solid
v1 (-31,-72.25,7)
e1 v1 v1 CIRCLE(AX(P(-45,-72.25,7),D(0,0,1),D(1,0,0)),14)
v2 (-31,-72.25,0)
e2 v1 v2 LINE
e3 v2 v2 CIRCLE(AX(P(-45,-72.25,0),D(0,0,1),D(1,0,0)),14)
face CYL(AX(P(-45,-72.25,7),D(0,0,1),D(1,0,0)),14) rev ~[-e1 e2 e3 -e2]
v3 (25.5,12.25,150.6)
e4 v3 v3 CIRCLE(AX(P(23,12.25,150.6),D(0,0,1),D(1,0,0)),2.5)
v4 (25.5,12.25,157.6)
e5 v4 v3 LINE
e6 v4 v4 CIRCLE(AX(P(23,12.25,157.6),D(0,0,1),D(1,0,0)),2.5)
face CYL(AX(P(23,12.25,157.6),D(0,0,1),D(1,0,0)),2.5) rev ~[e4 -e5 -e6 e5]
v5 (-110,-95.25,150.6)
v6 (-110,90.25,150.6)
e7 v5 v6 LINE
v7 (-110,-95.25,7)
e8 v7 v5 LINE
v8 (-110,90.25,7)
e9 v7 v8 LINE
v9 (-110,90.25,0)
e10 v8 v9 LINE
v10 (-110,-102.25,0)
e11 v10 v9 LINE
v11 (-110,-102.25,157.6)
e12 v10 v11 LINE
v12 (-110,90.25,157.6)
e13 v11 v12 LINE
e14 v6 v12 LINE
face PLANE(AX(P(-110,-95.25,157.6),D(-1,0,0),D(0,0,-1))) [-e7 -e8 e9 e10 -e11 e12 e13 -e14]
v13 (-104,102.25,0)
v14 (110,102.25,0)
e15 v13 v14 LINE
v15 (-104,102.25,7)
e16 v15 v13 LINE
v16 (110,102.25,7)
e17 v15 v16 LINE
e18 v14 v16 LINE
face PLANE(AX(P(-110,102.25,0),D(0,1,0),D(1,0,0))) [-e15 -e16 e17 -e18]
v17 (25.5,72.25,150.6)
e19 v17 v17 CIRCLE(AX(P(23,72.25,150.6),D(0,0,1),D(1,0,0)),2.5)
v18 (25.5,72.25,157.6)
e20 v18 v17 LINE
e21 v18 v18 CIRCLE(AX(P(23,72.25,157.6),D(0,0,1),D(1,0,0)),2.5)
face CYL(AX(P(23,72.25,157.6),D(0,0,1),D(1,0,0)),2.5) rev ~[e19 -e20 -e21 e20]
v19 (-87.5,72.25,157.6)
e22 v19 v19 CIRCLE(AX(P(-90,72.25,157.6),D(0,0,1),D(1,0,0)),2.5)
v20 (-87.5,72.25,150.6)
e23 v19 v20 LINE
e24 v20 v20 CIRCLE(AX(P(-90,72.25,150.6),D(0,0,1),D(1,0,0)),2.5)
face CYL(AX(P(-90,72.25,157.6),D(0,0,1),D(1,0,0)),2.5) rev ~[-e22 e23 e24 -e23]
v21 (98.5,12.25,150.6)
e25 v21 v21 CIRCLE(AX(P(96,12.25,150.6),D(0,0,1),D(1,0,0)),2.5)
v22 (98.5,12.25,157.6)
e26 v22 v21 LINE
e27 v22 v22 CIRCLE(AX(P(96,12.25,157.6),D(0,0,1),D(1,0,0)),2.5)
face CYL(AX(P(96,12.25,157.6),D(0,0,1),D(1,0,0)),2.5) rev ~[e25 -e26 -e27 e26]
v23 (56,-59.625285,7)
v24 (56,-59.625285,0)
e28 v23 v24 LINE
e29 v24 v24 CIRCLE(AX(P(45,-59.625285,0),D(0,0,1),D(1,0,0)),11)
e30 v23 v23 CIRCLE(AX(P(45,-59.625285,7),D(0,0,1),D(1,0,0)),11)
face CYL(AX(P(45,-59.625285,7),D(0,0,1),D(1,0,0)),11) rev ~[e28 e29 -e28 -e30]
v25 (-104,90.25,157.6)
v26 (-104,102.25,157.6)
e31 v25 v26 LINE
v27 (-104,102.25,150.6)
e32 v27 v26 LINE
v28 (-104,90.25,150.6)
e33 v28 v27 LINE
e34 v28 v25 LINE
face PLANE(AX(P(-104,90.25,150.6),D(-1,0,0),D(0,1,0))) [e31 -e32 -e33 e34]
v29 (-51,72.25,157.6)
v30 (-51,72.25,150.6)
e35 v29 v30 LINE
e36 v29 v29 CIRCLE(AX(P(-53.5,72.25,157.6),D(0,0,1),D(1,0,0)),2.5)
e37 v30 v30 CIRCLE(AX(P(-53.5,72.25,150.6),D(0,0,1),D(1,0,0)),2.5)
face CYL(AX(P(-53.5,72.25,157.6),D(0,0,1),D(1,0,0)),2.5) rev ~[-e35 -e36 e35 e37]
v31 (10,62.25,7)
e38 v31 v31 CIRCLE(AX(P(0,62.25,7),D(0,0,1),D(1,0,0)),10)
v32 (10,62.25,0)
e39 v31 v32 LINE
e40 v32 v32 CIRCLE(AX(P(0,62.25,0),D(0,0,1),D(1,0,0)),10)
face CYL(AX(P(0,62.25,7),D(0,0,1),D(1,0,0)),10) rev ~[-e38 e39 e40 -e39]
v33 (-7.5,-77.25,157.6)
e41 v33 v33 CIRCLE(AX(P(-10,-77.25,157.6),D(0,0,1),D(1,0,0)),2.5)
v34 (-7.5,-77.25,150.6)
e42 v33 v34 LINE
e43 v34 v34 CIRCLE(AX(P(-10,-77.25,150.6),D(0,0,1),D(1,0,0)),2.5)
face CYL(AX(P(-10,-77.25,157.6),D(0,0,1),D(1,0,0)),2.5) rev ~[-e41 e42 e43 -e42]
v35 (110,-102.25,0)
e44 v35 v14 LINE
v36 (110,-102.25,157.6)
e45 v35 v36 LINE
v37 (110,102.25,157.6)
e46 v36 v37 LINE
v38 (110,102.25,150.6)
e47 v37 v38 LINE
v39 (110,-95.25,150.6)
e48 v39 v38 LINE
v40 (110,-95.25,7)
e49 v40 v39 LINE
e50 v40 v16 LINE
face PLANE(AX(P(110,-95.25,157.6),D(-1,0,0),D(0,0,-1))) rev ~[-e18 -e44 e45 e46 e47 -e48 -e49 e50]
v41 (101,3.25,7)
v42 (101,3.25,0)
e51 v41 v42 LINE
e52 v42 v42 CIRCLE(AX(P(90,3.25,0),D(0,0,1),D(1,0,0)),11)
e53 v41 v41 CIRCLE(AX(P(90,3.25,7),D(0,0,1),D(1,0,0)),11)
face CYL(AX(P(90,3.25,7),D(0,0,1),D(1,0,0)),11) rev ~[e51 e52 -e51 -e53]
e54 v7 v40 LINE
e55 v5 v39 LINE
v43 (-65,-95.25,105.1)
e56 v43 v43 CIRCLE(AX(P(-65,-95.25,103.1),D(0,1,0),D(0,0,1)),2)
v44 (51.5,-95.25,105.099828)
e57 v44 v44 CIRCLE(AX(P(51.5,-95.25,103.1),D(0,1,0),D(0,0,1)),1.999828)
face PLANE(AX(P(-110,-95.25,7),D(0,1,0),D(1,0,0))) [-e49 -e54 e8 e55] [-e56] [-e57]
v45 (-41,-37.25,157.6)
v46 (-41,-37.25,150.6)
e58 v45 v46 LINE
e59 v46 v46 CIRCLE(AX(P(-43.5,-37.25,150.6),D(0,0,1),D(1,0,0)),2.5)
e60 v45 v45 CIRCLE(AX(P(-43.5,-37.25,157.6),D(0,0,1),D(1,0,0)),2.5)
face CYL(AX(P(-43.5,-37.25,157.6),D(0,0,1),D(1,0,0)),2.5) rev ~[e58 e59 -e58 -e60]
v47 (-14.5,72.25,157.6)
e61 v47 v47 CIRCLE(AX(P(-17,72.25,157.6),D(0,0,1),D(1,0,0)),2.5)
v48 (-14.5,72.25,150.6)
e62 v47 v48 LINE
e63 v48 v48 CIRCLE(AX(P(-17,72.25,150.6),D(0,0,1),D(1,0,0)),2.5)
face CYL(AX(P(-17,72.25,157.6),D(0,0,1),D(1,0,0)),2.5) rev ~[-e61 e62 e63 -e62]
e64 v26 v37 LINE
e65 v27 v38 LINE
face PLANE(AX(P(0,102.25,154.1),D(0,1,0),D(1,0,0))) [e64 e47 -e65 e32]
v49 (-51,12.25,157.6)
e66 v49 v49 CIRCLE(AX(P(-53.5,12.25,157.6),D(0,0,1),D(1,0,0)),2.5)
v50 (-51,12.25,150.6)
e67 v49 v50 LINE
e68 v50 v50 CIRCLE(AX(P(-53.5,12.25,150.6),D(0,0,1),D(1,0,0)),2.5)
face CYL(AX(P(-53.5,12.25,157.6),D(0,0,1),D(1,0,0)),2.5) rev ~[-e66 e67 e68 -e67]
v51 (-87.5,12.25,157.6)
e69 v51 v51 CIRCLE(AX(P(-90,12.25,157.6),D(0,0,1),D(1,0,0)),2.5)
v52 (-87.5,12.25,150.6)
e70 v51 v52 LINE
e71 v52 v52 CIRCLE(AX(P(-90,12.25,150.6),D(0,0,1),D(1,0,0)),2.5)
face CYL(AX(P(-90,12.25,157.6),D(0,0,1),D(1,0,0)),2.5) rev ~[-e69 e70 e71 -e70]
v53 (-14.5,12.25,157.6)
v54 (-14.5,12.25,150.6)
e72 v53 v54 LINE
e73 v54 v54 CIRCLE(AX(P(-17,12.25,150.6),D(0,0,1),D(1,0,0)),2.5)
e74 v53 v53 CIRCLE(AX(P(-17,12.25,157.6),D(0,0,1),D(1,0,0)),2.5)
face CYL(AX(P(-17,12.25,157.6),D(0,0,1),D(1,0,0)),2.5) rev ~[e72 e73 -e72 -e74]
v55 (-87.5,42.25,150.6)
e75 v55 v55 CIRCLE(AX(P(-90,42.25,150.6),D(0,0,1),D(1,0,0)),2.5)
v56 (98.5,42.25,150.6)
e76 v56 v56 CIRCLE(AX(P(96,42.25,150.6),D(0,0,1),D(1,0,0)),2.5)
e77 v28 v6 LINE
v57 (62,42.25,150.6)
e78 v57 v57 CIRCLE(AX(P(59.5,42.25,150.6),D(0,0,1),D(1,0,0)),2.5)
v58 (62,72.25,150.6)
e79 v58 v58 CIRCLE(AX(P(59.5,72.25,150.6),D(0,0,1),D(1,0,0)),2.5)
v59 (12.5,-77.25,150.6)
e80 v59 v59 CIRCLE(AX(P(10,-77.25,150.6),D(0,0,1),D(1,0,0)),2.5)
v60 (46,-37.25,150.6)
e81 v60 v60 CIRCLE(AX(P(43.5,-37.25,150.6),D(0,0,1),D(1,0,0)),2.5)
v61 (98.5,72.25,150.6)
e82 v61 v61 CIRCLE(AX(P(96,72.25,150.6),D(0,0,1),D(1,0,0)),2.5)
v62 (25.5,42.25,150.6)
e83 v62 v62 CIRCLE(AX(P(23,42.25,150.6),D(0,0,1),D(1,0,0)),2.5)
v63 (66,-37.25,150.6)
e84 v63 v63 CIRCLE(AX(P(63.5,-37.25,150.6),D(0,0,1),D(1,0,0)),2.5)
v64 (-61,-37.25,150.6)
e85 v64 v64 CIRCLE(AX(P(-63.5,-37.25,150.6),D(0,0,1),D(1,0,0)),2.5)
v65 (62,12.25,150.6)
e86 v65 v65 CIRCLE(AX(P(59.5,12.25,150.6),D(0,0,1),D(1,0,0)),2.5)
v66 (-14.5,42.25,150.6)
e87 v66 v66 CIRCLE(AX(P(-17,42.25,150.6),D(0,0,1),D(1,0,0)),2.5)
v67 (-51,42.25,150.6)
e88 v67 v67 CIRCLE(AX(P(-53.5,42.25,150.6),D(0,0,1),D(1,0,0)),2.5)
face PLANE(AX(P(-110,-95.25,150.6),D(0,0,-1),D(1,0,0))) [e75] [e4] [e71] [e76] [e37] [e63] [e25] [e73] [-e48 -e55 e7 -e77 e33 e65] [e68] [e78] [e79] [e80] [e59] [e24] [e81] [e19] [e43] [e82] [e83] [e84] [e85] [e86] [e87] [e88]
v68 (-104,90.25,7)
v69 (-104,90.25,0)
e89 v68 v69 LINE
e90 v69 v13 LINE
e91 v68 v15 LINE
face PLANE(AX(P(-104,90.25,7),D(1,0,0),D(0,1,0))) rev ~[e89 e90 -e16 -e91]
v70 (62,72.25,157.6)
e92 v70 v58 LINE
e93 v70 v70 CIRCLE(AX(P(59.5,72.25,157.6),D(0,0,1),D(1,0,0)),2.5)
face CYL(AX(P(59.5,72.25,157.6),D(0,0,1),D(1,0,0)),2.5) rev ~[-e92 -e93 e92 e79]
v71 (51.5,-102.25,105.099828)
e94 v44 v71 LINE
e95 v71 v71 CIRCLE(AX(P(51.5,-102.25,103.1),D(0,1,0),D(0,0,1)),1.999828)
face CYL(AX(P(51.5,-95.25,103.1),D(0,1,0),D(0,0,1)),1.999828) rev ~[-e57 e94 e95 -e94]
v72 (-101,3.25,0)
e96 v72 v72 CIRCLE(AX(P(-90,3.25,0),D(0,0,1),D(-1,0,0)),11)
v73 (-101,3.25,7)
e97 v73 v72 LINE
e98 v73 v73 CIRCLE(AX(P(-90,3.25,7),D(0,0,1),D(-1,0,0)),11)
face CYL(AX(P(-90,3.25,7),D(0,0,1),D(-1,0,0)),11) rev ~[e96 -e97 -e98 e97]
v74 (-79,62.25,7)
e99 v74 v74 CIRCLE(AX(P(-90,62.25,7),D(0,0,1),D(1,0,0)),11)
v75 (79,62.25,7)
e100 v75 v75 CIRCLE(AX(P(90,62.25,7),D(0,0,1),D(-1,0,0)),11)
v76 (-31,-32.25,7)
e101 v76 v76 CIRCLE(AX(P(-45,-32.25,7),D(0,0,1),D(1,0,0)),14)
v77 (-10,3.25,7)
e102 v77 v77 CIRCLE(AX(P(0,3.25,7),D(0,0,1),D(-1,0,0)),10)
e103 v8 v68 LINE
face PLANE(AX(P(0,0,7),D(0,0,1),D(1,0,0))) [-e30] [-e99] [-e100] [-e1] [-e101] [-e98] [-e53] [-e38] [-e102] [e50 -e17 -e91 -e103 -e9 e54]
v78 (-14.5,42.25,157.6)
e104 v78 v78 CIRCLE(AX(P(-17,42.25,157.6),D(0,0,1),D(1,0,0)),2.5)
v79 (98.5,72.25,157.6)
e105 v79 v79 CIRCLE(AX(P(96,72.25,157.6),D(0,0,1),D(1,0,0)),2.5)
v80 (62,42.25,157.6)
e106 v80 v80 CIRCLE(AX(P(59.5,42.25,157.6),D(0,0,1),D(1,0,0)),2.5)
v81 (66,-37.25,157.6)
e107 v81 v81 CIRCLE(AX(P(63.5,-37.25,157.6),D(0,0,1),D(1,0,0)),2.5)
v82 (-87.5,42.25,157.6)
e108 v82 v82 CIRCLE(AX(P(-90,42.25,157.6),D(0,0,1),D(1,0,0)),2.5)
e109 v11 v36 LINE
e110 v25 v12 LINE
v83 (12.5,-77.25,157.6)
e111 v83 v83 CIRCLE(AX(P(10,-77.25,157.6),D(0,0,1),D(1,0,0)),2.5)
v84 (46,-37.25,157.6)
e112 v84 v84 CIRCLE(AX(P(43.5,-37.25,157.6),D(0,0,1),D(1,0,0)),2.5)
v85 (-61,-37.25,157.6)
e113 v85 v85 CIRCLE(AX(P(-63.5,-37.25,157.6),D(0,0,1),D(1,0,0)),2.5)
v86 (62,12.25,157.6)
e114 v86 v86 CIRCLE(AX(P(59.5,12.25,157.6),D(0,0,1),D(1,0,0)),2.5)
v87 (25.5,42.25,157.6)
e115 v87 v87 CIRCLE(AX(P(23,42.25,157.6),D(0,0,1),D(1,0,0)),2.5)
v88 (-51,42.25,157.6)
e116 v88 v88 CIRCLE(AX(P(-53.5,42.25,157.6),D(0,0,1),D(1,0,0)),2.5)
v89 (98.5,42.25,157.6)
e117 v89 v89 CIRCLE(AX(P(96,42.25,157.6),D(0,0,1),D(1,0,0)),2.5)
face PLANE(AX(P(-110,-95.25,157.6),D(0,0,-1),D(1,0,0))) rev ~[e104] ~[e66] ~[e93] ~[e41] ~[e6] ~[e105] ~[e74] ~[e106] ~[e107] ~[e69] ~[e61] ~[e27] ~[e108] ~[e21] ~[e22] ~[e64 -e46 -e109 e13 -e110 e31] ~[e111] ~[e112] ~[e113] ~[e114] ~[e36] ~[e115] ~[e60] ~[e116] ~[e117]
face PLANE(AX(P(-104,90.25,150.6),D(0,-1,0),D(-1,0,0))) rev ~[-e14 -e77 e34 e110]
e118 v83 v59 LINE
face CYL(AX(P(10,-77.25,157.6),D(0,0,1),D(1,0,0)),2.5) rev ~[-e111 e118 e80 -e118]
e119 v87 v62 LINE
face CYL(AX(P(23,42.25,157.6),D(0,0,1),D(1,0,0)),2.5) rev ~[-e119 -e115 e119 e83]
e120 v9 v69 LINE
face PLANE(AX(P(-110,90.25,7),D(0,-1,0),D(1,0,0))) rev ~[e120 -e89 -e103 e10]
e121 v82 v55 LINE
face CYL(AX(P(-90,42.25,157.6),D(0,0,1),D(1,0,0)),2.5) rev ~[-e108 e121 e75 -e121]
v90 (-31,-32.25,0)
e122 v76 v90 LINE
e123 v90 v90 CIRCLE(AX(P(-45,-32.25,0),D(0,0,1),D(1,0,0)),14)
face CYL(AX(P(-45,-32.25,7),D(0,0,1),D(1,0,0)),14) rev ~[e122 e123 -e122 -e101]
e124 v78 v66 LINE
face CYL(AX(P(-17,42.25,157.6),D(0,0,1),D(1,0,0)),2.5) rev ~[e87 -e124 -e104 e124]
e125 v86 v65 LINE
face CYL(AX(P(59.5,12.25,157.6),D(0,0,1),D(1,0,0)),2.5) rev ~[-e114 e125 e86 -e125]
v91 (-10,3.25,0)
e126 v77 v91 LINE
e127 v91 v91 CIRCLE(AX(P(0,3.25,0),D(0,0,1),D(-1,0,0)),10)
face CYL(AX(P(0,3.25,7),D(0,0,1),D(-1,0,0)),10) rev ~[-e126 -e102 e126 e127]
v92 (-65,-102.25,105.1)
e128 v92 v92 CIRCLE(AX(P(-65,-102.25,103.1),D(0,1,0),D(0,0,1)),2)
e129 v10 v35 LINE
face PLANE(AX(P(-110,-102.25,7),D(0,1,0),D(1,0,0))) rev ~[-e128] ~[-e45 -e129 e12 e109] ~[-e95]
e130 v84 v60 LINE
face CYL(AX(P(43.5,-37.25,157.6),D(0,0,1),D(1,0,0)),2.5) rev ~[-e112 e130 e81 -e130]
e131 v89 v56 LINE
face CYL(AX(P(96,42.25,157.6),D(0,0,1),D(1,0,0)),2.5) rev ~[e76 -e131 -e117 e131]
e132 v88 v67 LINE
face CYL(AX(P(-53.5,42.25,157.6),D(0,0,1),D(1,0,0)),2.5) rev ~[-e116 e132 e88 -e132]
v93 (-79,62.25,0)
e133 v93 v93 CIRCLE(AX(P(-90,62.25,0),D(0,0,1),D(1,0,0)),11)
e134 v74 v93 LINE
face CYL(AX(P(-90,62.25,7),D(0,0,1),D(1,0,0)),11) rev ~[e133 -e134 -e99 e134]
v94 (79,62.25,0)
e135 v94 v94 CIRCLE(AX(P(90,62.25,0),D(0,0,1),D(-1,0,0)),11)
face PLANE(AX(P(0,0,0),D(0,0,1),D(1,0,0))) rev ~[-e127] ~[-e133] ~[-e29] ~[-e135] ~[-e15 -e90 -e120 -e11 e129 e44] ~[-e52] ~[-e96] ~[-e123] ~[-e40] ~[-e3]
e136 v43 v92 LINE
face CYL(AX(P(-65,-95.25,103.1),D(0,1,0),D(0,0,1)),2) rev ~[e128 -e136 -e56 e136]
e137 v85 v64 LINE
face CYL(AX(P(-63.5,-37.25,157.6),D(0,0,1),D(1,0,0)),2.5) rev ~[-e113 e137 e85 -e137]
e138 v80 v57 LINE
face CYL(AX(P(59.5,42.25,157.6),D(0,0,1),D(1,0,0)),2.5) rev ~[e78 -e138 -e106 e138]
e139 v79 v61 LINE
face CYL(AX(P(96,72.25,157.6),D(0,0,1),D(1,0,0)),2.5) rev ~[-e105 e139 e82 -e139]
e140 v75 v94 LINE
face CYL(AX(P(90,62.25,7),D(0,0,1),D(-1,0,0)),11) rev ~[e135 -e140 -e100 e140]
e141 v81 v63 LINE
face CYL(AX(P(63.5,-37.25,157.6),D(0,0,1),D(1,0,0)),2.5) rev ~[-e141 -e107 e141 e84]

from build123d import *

# Parameters (mm, degrees)
CROQUIS1_W              = 220
CROQUIS1_H              = 204.5
SALIENTE_EXTRUIR1_DEPTH = 7
CROQUIS2_R              = 11
CROQUIS2_R_2            = 10
CROQUIS2_R_3            = 14
CORTAR_EXTRUIR1_DEPTH   = 151.346474851
CROQUIS3_W              = 6
CROQUIS3_H              = 12
CORTAR_EXTRUIR2_DEPTH   = 10
CROQUIS4_W              = 220
CROQUIS4_H              = 7
SALIENTE_EXTRUIR2_DEPTH = 150.6
CROQUIS5_W              = 220
CROQUIS5_H              = 7
SALIENTE_EXTRUIR3_DEPTH = 197.5
CROQUIS6_W              = 6
CROQUIS6_H              = 12
CORTAR_EXTRUIR3_DEPTH   = 150.6
CROQUIS7_R              = 2.5
CORTAR_EXTRUIR4_DEPTH   = 10
CROQUIS8_W              = 20
CROQUIS8_H              = 15
SALIENTE_EXTRUIR4_DEPTH = 197.5
CROQUIS9_W              = 110.5
CROQUIS9_H              = 4
CORTAR_EXTRUIR5_DEPTH   = 94
CROQUIS11_R             = 2.5
CORTAR_EXTRUIR6_DEPTH   = 10
CORTAR_EXTRUIR7_REACH   = 188.514
CROQUIS10_W             = 13.75
CROQUIS10_H             = 75
CORTAR_EXTRUIR8_REACH   = 282.639
CROQUIS12_W             = 10.25034787
CROQUIS12_H             = 5.500172095
CROQUIS12_W_2           = 10.24965213
CROQUIS13_W             = 3
CROQUIS13_H             = 5.499827905
CORTAR_EXTRUIR9_DEPTH   = 7
CORTAR_EXTRUIR10_DEPTH  = 15
SALIENTE_EXTRUIR5_DEPTH = 15
CROQUIS19_R             = 2
CROQUIS19_R_2           = 1.999827905
CORTAR_EXTRUIR13_DEPTH  = 276.579407794
CROQUIS20_W             = 150
CROQUIS20_H             = 15
CORTAR_EXTRUIR14_DEPTH  = 197.5


with BuildPart() as part:
    # Croquis1 → Saliente-Extruir1 (new body)
    with BuildSketch(Plane.XY):
        Rectangle(CROQUIS1_W, CROQUIS1_H)
    extrude(amount=SALIENTE_EXTRUIR1_DEPTH)

    # Croquis2 → Cortar-Extruir1 (cut, through all)
    with BuildSketch(Plane.XY.offset(7)):
        with Locations((-90, 62.25)):
            Circle(CROQUIS2_R)
        with Locations(Location((90, 62.25, 0), (0, 0, 180))):
            Circle(CROQUIS2_R)
        with Locations((0, 62.25)):
            Circle(CROQUIS2_R_2)
        with Locations((90, 3.25)):
            Circle(CROQUIS2_R)
        with Locations(Location((0, 3.25, 0), (0, 0, 180))):
            Circle(CROQUIS2_R_2)
        with Locations(Location((-90, 3.25, 0), (0, 0, 180))):
            Circle(CROQUIS2_R)
        with Locations((-45, -32.25)):
            Circle(CROQUIS2_R_3)
        with Locations((-45, -72.25)):
            Circle(CROQUIS2_R_3)
        with Locations((45, -59.625285127)):
            Circle(CROQUIS2_R)
    extrude(amount=-CORTAR_EXTRUIR1_DEPTH, mode=Mode.SUBTRACT)

    # Croquis3 → Cortar-Extruir2 (cut)
    with BuildSketch(Plane.XY.offset(7)):
        with Locations((-107, 96.25)):
            Rectangle(CROQUIS3_W, CROQUIS3_H)
    extrude(amount=-CORTAR_EXTRUIR2_DEPTH, mode=Mode.SUBTRACT)

    # Croquis4 → Saliente-Extruir2 (add)
    with BuildSketch(Plane.XY.offset(7)):
        with Locations((0, -98.75)):
            Rectangle(CROQUIS4_W, CROQUIS4_H)
    extrude(amount=SALIENTE_EXTRUIR2_DEPTH)

    # Croquis5 → Saliente-Extruir3 (add)
    with BuildSketch(Plane(origin=(0, -95.25, 0), x_dir=(1, 0, 0), z_dir=(0, 1, 0))):
        with Locations((0, -154.1)):
            Rectangle(CROQUIS5_W, CROQUIS5_H)
    extrude(amount=SALIENTE_EXTRUIR3_DEPTH)

    # Croquis6 → Cortar-Extruir3 (cut)
    with BuildSketch(Plane(origin=(0, 0, 150.6), x_dir=(-1, 0, 0), z_dir=(0, 0, -1))):
        with Locations((107, 96.25)):
            Rectangle(CROQUIS6_W, CROQUIS6_H)
    extrude(amount=-CORTAR_EXTRUIR3_DEPTH, mode=Mode.SUBTRACT)

    # Croquis7 → Cortar-Extruir4 (cut)
    with BuildSketch(Plane.XY.offset(157.6)):
        with Locations((-90, 72.25)):
            Circle(CROQUIS7_R)
        with Locations((-17, 72.25)):
            Circle(CROQUIS7_R)
        with Locations((-53.5, 72.25)):
            Circle(CROQUIS7_R)
        with Locations((96, 72.25)):
            Circle(CROQUIS7_R)
        with Locations((59.5, 72.25)):
            Circle(CROQUIS7_R)
        with Locations((23, 72.25)):
            Circle(CROQUIS7_R)
        with Locations((96, 42.25)):
            Circle(CROQUIS7_R)
        with Locations((59.5, 42.25)):
            Circle(CROQUIS7_R)
        with Locations((23, 42.25)):
            Circle(CROQUIS7_R)
        with Locations((-17, 42.25)):
            Circle(CROQUIS7_R)
        with Locations((-53.5, 42.25)):
            Circle(CROQUIS7_R)
        with Locations((-90, 42.25)):
            Circle(CROQUIS7_R)
        with Locations((96, 12.25)):
            Circle(CROQUIS7_R)
        with Locations((59.5, 12.25)):
            Circle(CROQUIS7_R)
        with Locations((23, 12.25)):
            Circle(CROQUIS7_R)
        with Locations((-17, 12.25)):
            Circle(CROQUIS7_R)
        with Locations((-53.5, 12.25)):
            Circle(CROQUIS7_R)
        with Locations((-90, 12.25)):
            Circle(CROQUIS7_R)
    extrude(amount=-CORTAR_EXTRUIR4_DEPTH, mode=Mode.SUBTRACT)

    # Croquis8 → Saliente-Extruir4 (add)
    with BuildSketch(Plane(origin=(0, -95.25, 0), x_dir=(1, 0, 0), z_dir=(0, 1, 0))):
        with Locations((-50, -103.1)):
            Rectangle(CROQUIS8_W, CROQUIS8_H)
        with Locations((50, -103.1)):
            Rectangle(CROQUIS8_W, CROQUIS8_H)
    extrude(amount=SALIENTE_EXTRUIR4_DEPTH)

    # Croquis9 → Cortar-Extruir5 (cut)
    with BuildSketch(Plane(origin=(0, 102.25, 0), x_dir=(1, 0, 0), z_dir=(0, 1, 0))):
        with Locations((-0.00034787, -103.099827905)):
            Rectangle(CROQUIS9_W, CROQUIS9_H)
    extrude(amount=-CORTAR_EXTRUIR5_DEPTH, mode=Mode.SUBTRACT)

    # Croquis11 → Cortar-Extruir6 (cut)
    with BuildSketch(Plane.XY.offset(157.6)):
        with Locations((-10, -77.25)):
            Circle(CROQUIS11_R)
        with Locations((10, -77.25)):
            Circle(CROQUIS11_R)
        with Locations((-63.5, -37.25)):
            Circle(CROQUIS11_R)
        with Locations((-43.5, -37.25)):
            Circle(CROQUIS11_R)
        with Locations((43.5, -37.25)):
            Circle(CROQUIS11_R)
        with Locations((63.5, -37.25)):
            Circle(CROQUIS11_R)
    extrude(amount=-CORTAR_EXTRUIR6_DEPTH, mode=Mode.SUBTRACT)

    # Cortar-Extruir7: up to this face of the body (flat: up to its plane)
    cortar_extruir7_end = Plane(part.part.faces().sort_by_distance((-50, 3.5, 95.6))[0])
    # Croquis10 → Cortar-Extruir7 (cut, up to the picked face)
    with BuildSketch(Plane.XY.offset(110.6), mode=Mode.PRIVATE) as cortar_extruir7_sk1:
        with Locations((-46.875, 57.75)):
            Rectangle(CROQUIS10_W, CROQUIS10_H)
    cortar_extruir7_tool1 = split(extrude(cortar_extruir7_sk1.sketch, amount=-CORTAR_EXTRUIR7_REACH, mode=Mode.PRIVATE), bisect_by=cortar_extruir7_end, keep=Keep.BOTH, mode=Mode.PRIVATE)
    # Croquis10 → Cortar-Extruir7 (cut, up to the picked face)
    with BuildSketch(Plane.XY.offset(110.6), mode=Mode.PRIVATE) as cortar_extruir7_sk2:
        with Locations((46.875, 57.75)):
            Rectangle(CROQUIS10_W, CROQUIS10_H)
    cortar_extruir7_tool2 = split(extrude(cortar_extruir7_sk2.sketch, amount=-CORTAR_EXTRUIR7_REACH, mode=Mode.PRIVATE), bisect_by=cortar_extruir7_end, keep=Keep.BOTH, mode=Mode.PRIVATE)
    add(cortar_extruir7_tool1.solids().sort_by(Axis((-46.875, 57.75, 110.6), (0, 0, -1)))[0], mode=Mode.SUBTRACT)
    add(cortar_extruir7_tool2.solids().sort_by(Axis((46.875, 57.75, 110.6), (0, 0, -1)))[0], mode=Mode.SUBTRACT)

    # Cortar-Extruir8: up to this face of the body (flat: up to its plane)
    cortar_extruir8_end = Plane(part.part.faces().sort_by_distance((-47.625173935, 8.25, 103.099827905))[0])
    # Croquis12 → Cortar-Extruir8 (cut, up to the picked face)
    with BuildSketch(Plane(origin=(0, 102.25, 0), x_dir=(1, 0, 0), z_dir=(0, 1, 0)), mode=Mode.PRIVATE) as cortar_extruir8_sk1:
        with Locations((-45.125173935, -107.849913953)):
            Rectangle(CROQUIS12_W, CROQUIS12_H)
    cortar_extruir8_tool1 = split(extrude(cortar_extruir8_sk1.sketch, amount=-CORTAR_EXTRUIR8_REACH, mode=Mode.PRIVATE), bisect_by=cortar_extruir8_end, keep=Keep.BOTH, mode=Mode.PRIVATE)
    # Croquis12 → Cortar-Extruir8 (cut, up to the picked face)
    with BuildSketch(Plane(origin=(0, 102.25, 0), x_dir=(1, 0, 0), z_dir=(0, 1, 0)), mode=Mode.PRIVATE) as cortar_extruir8_sk2:
        with Locations((45.124826065, -107.849913953)):
            Rectangle(CROQUIS12_W_2, CROQUIS12_H)
    cortar_extruir8_tool2 = split(extrude(cortar_extruir8_sk2.sketch, amount=-CORTAR_EXTRUIR8_REACH, mode=Mode.PRIVATE), bisect_by=cortar_extruir8_end, keep=Keep.BOTH, mode=Mode.PRIVATE)
    add(cortar_extruir8_tool1.solids().sort_by(Axis((-45.125174, 102.25, 107.849914), (0, -1, 0)))[0], mode=Mode.SUBTRACT)
    add(cortar_extruir8_tool2.solids().sort_by(Axis((45.124826, 102.25, 107.849914), (0, -1, 0)))[0], mode=Mode.SUBTRACT)

    # Croquis13 → Cortar-Extruir9 (cut)
    with BuildSketch(Plane(origin=(0, 102.25, 0), x_dir=(1, 0, 0), z_dir=(0, 1, 0))):
        with Locations((-41.5, -98.349913953)):
            Rectangle(CROQUIS13_W, CROQUIS13_H)
        with Locations((41.5, -98.349913953)):
            Rectangle(CROQUIS13_W, CROQUIS13_H)
    extrude(amount=-CORTAR_EXTRUIR9_DEPTH, mode=Mode.SUBTRACT)

    # Croquis14 → Cortar-Extruir10 (cut)
    with BuildSketch(Plane.XY.offset(110.6)):
        Polygon((-40, -10.25), (-51.479605867, -10.25), (-60, -10.25), (-60, -60.25), (-40, -60.25), align=None)
    extrude(amount=-CORTAR_EXTRUIR10_DEPTH, mode=Mode.SUBTRACT)


with BuildPart() as cortar_extruir10_piece_1:
    # of the separate pieces the step leaves, piece 1, a body of its own (cortar_extruir10_pieces)
    add(part.part.solids().sort_by_distance((-104, 102.25, 0))[0])



with BuildPart() as cortar_extruir10_piece_2:
    # of the separate pieces the step leaves, piece 2, a body of its own (cortar_extruir10_pieces)
    add(part.part.solids().sort_by_distance((-40, -10.25, 95.6))[0])


with BuildPart() as cortar_extruir10_piece_1_1:
    add(cortar_extruir10_piece_1.part)

    add(cortar_extruir10_piece_2.part)  # Saliente-Extruir5 merges Cortar-Extruir10 piece 2
    # Croquis15 → Saliente-Extruir5 (add)
    with BuildSketch(Plane.XY.offset(110.6)):
        Polygon((-60, 19.75), (-90, 19.75), (-90, -95.25), (-60, -95.25), (-60, -60.25), (-66.476045764, -60.25), (-66.476045764, -10.25), (-60, -10.25), align=None)
    extrude(amount=-SALIENTE_EXTRUIR5_DEPTH)

    # Croquis19 → Cortar-Extruir13 (cut, through all)
    with BuildSketch(Plane(origin=(0, -95.25, 0), x_dir=(1, 0, 0), z_dir=(0, 1, 0))):
        with Locations(Location((-65, -103.1, 0), (0, 0, 270))):
            Circle(CROQUIS19_R)
        with Locations(Location((51.5, -103.1, 0), (0, 0, 270))):
            Circle(CROQUIS19_R_2)
    extrude(amount=-CORTAR_EXTRUIR13_DEPTH, mode=Mode.SUBTRACT)

    # Croquis20 → Cortar-Extruir14 (cut)
    with BuildSketch(Plane(origin=(0, 102.25, 0), x_dir=(1, 0, 0), z_dir=(0, 1, 0))):
        with Locations((-15, -103.1)):
            Rectangle(CROQUIS20_W, CROQUIS20_H)
    extrude(amount=-CORTAR_EXTRUIR14_DEPTH, mode=Mode.SUBTRACT)


solid = cortar_extruir10_piece_1_1.part
